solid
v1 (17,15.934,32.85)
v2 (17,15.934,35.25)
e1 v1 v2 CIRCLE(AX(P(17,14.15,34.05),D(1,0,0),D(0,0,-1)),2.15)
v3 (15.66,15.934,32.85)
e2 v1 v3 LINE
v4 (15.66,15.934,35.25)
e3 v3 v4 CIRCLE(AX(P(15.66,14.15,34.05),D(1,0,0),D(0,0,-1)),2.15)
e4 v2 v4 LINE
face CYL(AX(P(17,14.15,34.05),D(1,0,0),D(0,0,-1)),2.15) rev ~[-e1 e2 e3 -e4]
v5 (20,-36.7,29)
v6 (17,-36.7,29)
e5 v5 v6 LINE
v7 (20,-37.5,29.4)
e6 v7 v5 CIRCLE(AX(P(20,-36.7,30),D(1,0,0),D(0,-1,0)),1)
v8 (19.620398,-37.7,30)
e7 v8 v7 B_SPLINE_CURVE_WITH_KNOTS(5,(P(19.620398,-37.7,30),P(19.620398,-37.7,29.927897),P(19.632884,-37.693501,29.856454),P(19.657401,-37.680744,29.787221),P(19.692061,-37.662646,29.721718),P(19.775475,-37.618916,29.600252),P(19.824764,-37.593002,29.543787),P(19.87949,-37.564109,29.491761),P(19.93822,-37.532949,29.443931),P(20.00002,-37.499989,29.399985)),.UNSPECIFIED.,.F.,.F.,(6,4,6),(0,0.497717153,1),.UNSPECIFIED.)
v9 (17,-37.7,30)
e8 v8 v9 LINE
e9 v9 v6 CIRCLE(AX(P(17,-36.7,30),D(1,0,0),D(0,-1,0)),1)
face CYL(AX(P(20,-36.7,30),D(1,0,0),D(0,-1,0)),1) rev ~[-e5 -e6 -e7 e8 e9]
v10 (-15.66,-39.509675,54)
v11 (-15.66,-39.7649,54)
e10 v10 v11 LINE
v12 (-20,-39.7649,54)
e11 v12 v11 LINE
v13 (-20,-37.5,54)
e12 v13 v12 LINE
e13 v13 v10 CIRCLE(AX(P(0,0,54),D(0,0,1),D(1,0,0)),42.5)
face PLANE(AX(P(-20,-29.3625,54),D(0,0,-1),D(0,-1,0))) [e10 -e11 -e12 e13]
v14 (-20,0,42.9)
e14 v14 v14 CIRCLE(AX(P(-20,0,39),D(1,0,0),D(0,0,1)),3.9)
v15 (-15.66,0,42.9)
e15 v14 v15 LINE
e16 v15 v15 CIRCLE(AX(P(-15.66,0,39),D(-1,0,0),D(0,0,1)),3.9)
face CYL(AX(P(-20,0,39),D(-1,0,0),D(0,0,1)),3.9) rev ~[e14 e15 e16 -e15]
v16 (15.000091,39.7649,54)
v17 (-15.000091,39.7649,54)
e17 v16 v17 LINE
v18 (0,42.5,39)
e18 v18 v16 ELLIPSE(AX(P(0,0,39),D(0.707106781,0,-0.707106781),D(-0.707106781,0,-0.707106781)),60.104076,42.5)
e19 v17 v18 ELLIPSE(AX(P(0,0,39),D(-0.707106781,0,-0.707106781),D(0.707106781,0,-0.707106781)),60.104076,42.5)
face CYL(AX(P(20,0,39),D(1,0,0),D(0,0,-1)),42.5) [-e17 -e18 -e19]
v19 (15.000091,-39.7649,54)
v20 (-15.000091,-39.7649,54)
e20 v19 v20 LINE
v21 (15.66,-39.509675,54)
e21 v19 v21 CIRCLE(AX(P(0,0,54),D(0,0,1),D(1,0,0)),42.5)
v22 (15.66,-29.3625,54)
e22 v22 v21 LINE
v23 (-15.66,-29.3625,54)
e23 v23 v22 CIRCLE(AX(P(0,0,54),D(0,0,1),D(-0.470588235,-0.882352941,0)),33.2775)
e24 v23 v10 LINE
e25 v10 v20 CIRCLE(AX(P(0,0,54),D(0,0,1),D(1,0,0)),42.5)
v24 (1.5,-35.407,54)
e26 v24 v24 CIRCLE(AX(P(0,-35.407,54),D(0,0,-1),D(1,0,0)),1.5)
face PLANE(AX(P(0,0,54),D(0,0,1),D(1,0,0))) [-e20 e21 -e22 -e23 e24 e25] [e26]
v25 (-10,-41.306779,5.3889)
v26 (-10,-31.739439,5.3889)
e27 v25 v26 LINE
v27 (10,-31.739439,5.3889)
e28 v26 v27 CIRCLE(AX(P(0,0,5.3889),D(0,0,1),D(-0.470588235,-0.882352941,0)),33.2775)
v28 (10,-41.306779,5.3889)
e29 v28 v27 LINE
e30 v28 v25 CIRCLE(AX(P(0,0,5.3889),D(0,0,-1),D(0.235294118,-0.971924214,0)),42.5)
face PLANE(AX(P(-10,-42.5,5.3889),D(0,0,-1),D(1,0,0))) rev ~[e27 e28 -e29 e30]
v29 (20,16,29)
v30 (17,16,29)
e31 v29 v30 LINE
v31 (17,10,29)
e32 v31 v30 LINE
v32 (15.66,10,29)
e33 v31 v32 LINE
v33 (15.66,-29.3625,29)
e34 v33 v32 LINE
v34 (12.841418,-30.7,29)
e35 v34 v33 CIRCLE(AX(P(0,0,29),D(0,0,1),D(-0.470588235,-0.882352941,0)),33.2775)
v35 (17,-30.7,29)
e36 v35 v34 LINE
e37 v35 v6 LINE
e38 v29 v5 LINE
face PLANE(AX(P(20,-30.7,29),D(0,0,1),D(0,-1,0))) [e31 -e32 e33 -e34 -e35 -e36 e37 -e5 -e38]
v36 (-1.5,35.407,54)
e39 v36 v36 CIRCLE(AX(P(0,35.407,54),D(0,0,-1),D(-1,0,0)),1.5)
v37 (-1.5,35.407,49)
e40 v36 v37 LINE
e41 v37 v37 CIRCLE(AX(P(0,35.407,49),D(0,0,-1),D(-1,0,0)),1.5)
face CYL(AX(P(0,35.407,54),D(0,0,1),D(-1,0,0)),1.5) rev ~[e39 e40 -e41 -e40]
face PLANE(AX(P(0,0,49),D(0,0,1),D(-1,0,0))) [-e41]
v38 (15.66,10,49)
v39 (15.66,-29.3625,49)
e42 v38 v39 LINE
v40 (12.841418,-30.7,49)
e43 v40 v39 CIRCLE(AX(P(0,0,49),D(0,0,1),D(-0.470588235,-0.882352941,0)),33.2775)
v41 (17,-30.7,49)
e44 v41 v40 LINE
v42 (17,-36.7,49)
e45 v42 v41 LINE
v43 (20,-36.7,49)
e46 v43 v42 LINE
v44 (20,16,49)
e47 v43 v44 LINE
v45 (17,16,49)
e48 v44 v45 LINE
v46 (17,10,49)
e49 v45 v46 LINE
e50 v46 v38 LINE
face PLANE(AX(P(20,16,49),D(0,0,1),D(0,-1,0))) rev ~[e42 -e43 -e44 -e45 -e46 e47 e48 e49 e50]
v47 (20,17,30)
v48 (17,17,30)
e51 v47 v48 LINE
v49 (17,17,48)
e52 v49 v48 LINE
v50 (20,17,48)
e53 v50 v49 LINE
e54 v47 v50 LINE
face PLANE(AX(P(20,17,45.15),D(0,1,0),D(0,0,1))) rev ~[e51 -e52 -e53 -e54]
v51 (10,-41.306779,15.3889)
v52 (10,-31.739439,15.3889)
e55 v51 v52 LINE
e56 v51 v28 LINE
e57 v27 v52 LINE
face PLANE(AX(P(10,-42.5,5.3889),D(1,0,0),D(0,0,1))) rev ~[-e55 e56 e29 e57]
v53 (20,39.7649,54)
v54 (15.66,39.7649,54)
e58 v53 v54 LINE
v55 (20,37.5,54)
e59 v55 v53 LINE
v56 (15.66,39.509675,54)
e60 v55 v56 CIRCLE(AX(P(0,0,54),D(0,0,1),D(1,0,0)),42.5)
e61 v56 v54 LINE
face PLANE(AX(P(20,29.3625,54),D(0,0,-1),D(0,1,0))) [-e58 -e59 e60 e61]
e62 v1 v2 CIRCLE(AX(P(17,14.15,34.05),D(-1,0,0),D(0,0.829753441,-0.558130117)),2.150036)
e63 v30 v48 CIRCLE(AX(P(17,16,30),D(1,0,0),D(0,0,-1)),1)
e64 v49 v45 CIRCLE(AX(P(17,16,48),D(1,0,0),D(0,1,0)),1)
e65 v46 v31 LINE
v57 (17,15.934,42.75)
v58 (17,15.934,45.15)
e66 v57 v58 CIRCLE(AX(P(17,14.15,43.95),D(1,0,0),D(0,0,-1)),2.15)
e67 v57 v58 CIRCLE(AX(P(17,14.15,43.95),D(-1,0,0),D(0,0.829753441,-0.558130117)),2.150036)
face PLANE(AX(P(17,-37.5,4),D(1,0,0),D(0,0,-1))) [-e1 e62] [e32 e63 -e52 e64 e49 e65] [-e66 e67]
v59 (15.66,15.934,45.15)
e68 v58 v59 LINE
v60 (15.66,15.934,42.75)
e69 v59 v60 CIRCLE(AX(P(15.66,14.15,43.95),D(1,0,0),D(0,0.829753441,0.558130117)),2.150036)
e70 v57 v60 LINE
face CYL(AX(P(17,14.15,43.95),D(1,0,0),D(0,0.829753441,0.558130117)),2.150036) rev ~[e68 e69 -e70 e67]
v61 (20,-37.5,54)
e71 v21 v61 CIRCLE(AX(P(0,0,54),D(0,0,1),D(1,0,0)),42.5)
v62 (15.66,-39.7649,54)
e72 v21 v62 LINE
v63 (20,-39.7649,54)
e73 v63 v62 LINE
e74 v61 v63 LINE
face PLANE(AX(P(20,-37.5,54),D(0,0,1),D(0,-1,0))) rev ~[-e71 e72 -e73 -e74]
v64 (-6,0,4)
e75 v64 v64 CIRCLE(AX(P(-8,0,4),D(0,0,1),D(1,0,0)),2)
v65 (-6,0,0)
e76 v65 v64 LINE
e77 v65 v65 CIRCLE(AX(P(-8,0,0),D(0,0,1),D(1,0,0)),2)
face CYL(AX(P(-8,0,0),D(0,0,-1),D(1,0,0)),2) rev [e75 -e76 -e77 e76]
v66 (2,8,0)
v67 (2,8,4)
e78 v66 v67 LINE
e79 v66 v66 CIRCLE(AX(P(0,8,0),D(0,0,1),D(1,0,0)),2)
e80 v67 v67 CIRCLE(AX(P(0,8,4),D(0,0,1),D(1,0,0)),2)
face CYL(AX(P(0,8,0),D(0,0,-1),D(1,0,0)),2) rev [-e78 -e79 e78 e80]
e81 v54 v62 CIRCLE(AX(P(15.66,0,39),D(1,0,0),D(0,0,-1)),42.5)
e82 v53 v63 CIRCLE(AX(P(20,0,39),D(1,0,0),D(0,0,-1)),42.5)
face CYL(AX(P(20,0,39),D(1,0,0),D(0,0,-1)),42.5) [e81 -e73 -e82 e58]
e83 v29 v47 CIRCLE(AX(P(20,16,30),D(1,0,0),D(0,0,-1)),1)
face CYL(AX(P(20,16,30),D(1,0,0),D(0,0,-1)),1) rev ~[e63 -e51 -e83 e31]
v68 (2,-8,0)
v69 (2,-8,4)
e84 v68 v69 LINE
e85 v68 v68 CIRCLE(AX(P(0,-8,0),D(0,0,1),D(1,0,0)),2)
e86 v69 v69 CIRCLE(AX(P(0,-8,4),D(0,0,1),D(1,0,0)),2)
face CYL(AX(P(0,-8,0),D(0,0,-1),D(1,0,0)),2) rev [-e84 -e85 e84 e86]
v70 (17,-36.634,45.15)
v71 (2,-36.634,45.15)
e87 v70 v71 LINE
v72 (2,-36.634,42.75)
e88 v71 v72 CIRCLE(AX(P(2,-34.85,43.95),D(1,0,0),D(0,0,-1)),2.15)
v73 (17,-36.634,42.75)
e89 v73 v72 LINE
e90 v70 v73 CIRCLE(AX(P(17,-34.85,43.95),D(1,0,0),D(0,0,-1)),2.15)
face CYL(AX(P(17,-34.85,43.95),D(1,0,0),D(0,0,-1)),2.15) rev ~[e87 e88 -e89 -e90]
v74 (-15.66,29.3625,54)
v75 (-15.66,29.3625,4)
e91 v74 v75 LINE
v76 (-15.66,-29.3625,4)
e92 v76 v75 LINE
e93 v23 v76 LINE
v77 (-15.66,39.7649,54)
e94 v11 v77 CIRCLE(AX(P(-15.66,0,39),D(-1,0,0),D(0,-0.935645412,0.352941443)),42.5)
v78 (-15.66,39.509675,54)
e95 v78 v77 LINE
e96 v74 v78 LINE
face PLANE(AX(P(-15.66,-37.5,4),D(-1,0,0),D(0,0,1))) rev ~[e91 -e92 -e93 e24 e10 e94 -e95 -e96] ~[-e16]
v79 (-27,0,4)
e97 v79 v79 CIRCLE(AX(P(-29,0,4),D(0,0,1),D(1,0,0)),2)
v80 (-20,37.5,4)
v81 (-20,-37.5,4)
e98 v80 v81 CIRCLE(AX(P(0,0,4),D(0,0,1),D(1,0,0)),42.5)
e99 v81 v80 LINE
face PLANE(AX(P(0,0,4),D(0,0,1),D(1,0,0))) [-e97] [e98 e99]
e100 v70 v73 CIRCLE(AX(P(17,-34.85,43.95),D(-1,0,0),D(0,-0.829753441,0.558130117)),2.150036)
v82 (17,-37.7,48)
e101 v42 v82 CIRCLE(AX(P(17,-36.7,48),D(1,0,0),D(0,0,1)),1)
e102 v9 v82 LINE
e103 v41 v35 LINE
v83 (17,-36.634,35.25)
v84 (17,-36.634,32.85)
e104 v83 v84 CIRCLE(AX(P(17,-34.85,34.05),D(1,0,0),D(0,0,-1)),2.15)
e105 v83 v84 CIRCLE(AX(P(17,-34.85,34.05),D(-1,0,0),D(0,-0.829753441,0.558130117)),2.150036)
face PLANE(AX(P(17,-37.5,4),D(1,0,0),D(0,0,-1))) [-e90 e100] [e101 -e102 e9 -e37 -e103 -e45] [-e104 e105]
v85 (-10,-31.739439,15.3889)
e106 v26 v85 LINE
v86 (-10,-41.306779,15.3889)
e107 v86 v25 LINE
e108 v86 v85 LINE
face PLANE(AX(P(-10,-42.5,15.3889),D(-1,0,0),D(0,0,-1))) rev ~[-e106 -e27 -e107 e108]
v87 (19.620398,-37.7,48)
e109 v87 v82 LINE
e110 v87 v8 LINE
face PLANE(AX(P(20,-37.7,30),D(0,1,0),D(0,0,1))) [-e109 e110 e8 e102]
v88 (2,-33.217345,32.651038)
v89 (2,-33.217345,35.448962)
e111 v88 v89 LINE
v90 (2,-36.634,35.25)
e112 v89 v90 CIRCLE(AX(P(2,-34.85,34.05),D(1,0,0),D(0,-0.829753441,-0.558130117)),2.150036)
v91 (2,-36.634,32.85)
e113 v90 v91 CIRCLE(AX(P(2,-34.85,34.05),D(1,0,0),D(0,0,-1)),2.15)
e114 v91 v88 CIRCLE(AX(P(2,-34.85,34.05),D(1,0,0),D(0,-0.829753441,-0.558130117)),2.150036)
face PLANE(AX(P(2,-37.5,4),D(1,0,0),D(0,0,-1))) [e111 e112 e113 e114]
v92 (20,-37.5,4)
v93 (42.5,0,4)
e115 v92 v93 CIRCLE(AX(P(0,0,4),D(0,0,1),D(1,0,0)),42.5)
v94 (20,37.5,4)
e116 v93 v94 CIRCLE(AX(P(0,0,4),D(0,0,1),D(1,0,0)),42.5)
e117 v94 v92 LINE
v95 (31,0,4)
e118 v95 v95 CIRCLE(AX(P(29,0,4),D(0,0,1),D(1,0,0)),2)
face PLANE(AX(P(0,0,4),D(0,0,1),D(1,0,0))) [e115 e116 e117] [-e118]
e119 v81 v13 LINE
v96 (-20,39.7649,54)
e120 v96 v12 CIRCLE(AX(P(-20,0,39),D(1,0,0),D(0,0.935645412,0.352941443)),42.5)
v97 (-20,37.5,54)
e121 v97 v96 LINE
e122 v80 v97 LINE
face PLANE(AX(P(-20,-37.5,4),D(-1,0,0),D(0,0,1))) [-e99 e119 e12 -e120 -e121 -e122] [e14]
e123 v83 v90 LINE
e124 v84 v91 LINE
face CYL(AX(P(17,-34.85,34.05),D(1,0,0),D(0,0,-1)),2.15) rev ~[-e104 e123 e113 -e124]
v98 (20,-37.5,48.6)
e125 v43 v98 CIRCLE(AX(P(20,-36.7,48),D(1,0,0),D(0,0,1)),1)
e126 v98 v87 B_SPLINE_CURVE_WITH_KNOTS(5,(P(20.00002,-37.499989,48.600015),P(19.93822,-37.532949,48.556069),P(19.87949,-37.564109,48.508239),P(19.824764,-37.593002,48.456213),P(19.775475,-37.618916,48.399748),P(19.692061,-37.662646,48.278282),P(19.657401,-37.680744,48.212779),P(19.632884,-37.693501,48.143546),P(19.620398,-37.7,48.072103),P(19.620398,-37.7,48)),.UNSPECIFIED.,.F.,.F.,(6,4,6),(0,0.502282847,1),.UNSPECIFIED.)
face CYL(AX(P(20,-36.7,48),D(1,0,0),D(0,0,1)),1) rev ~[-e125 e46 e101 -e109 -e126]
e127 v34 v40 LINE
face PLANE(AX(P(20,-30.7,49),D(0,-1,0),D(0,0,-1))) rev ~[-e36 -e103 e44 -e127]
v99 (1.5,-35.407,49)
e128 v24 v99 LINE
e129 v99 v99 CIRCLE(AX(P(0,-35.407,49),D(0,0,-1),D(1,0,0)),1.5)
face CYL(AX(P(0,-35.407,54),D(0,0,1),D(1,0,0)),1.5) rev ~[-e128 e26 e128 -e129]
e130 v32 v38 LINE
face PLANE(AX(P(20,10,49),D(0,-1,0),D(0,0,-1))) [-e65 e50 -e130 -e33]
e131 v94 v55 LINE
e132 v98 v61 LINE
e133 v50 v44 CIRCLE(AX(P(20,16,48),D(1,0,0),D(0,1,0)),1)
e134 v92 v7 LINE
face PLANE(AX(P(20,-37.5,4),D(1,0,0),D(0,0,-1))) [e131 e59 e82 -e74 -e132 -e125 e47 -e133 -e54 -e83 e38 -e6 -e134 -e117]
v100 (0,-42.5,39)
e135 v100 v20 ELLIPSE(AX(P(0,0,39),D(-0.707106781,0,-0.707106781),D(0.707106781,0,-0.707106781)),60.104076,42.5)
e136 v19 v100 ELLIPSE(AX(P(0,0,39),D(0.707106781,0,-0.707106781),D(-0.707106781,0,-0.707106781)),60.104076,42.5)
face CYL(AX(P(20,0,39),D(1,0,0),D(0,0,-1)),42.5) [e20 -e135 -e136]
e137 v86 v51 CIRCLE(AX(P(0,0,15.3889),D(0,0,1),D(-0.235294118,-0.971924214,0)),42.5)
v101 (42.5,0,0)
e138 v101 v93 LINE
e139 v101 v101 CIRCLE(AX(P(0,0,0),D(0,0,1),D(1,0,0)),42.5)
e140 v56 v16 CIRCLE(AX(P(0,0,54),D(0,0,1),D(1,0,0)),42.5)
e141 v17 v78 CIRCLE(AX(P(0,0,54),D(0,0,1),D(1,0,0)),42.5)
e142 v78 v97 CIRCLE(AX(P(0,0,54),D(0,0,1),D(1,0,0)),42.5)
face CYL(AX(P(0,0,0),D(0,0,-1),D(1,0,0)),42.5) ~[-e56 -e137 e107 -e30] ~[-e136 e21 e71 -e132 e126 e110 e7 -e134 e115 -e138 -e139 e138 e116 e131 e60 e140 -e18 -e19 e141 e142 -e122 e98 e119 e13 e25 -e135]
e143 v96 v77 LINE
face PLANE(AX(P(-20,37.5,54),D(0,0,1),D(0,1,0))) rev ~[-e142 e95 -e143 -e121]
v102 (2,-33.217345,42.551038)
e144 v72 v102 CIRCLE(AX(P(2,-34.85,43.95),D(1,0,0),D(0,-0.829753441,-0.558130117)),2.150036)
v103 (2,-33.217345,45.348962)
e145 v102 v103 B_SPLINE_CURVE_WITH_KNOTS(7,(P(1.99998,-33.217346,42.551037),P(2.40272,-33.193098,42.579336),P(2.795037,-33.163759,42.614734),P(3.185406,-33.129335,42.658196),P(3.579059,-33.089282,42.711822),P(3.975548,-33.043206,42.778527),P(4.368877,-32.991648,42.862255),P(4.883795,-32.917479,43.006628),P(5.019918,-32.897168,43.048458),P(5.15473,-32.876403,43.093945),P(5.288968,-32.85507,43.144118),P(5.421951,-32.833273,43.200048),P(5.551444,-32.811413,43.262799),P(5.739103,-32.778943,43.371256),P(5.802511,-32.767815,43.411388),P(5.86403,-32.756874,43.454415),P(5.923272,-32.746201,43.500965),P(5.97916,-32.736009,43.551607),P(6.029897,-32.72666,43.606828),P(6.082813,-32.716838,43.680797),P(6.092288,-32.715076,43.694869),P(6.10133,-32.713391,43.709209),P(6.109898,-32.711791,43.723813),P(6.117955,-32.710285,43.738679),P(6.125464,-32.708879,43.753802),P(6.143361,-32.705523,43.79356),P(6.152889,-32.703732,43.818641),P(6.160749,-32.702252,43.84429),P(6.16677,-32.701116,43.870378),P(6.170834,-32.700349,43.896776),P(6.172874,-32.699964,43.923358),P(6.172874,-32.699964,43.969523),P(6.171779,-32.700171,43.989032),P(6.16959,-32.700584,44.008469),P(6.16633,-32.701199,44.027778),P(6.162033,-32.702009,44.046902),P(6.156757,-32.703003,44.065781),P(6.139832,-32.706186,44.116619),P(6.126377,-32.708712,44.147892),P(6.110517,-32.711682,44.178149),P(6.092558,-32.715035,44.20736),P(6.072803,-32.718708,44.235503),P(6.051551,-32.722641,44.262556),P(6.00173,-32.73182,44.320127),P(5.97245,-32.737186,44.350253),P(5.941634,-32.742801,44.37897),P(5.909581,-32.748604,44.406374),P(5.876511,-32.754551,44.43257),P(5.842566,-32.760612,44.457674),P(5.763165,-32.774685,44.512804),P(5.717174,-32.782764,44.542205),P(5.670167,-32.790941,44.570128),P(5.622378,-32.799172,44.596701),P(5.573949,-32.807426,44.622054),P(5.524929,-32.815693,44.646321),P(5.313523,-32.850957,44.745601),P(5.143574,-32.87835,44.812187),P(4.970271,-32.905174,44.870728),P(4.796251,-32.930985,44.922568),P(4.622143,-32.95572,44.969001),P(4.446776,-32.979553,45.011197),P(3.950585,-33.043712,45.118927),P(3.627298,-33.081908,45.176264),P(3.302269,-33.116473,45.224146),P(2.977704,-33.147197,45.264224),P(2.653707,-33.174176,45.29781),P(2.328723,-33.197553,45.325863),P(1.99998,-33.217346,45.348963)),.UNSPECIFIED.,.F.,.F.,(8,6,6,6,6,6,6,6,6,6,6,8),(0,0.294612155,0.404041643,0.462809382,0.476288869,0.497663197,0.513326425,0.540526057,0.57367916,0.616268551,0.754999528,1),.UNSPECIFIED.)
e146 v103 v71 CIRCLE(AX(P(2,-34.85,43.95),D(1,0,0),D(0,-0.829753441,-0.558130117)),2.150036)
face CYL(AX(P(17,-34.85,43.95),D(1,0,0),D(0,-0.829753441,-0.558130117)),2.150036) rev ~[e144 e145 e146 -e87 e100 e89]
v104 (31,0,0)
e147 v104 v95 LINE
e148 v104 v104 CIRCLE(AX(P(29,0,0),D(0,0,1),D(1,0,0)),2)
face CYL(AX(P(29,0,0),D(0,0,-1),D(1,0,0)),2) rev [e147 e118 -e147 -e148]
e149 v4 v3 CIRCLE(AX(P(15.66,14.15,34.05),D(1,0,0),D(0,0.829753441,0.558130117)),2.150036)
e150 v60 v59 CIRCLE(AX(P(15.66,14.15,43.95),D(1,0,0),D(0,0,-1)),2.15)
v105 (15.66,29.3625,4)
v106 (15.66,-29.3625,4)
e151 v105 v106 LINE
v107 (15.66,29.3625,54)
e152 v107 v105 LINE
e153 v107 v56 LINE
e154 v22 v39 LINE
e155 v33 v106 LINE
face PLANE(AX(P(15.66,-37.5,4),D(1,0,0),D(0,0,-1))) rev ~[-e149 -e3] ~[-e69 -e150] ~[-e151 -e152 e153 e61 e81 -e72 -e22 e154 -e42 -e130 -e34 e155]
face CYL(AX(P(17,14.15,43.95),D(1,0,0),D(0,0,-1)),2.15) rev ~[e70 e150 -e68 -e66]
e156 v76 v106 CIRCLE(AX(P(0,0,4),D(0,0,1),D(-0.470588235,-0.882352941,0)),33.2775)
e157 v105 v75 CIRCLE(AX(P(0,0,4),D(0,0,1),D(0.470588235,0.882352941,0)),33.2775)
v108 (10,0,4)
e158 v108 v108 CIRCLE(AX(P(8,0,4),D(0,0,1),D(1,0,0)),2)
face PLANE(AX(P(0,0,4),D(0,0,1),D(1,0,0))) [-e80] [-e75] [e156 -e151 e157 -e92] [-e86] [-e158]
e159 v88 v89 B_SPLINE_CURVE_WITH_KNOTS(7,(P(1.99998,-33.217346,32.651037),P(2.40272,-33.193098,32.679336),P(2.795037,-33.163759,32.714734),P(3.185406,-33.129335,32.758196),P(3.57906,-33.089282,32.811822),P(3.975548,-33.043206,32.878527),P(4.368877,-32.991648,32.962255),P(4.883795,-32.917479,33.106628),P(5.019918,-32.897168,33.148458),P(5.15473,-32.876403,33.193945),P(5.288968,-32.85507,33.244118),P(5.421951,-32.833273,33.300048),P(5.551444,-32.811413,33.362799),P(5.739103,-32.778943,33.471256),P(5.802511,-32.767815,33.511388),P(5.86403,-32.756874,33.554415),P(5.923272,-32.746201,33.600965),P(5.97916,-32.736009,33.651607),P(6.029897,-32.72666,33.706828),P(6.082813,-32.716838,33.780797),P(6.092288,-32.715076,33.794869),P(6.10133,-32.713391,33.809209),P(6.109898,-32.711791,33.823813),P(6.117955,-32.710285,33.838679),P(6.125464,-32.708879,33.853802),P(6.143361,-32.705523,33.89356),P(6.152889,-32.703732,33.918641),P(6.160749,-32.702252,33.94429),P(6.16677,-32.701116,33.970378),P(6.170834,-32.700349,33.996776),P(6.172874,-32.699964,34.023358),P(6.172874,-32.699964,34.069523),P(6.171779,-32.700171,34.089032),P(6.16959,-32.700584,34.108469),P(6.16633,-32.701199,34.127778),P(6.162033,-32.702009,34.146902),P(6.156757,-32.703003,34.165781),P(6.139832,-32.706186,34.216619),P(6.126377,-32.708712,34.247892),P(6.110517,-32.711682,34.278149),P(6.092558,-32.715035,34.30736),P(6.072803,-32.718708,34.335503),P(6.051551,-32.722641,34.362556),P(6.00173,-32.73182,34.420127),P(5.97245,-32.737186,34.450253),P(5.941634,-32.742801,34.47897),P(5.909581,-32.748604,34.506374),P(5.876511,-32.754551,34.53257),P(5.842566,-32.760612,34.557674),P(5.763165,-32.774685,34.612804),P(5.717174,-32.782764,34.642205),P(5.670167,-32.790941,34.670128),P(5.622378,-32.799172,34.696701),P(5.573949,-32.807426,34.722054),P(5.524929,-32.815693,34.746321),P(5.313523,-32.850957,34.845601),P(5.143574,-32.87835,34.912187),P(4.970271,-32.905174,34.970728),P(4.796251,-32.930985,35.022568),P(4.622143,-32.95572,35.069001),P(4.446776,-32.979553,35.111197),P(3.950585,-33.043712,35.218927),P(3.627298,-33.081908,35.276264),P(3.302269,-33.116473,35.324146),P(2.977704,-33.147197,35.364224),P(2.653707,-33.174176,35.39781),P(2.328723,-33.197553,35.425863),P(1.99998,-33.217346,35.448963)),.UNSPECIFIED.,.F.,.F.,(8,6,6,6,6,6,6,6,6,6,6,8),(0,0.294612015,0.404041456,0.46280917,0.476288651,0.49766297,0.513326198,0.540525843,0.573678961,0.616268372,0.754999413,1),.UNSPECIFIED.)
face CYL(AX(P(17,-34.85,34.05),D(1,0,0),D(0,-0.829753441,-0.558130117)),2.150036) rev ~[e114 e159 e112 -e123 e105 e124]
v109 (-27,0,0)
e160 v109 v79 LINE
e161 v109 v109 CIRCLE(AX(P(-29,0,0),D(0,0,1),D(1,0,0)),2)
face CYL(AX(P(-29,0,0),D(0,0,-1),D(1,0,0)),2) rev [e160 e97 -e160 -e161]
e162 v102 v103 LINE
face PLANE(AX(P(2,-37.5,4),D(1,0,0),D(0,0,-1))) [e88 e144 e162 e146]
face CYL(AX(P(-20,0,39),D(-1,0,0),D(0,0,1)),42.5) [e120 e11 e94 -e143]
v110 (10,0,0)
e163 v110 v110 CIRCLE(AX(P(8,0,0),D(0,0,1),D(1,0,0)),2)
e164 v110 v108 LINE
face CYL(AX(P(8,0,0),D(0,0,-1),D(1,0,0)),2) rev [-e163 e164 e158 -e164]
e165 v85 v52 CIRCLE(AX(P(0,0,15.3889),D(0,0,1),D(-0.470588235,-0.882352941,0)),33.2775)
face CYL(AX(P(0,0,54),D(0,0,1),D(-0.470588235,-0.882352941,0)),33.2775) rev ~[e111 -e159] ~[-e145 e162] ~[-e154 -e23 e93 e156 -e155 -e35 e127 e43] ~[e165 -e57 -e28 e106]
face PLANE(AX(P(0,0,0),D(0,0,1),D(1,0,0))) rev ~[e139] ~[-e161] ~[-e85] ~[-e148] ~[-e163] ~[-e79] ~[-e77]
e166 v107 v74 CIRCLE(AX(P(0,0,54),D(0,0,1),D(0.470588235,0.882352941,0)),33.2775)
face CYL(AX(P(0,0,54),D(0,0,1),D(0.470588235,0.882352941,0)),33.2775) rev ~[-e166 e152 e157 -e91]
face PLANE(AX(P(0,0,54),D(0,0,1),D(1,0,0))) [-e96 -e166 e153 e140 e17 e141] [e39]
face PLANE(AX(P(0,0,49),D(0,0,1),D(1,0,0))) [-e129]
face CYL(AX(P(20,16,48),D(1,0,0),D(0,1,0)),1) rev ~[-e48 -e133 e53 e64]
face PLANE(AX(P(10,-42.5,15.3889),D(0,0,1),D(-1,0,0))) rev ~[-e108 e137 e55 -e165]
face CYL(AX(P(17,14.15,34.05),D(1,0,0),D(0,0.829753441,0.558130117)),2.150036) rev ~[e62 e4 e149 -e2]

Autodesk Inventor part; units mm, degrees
ref_plane "YZ Plane" through (0, 0, 0) normal (1, 0, 0) x (0, 1, 0)
ref_plane "XZ Plane" through (0, 0, 0) normal (0, 1, 0) x (-1, 0, 0)
sketch "Эскиз1" plane through (0, 0, 0) normal (0, 0, 1) x (1, 0, 0)
  circle A0 centre (29, 0) radius 2
  circle A1 centre (-29, 0) radius 2
  circle A2 centre (0, 8) radius 2
  circle A3 centre (8, 0) radius 2
  circle A4 centre (0, -8) radius 2
  circle A5 centre (-8, 0) radius 2
  circle A6 centre (0, 0) radius 42.5
  circle A7 centre (29, 0) radius 2
  circle A8 centre (-29, 0) radius 2
  circle A9 centre (0, 8) radius 2
  circle A10 centre (8, 0) radius 2
  circle A11 centre (0, -8) radius 2
  circle A12 centre (-8, 0) radius 2
  circle A13 centre (0, 0) radius 42.5
extrude "Выдавливание1" add sketch "Эскиз1" along normal blind 4
sketch "Эскиз16" plane through (0, 0, 4) normal (0, 0, 1) x (1, 0, 0)
  line L0 (-20, -37.5) -> (-20, 37.5)
  line L1 (20, 37.5) -> (20, -37.5)
  line L2 (20, -42.5) -> (-20, 42.5) construction
  line L3 (-20, -42.5) -> (20, 42.5) construction
  circle A0 centre (0, 0) radius 42.5 projected
  arc A1 (-20, -37.5) -> (20, -37.5) centre (0, 0) ccw
  arc A2 (20, 37.5) -> (-20, 37.5) centre (0, 0) ccw
extrude "Выдавливание14" add sketch "Эскиз16" along normal blind 50 contours L0 A0 L1
sketch "Эскиз17" plane through (0, 0, 54) normal (0, 0, 1) x (1, 0, 0)
  line L0 (-15.66, -29.3625) -> (-15.66, 29.3625)
  line L1 (15.66, 29.3625) -> (15.66, -29.3625)
  line L2 (15.66, -33.2775) -> (-15.66, 33.2775) construction
  line L3 (-15.66, -33.2775) -> (15.66, 33.2775) construction
  arc A0 (-15.66, -29.3625) -> (15.66, -29.3625) centre (0, 0) ccw
  arc A1 (15.66, 29.3625) -> (-15.66, 29.3625) centre (0, 0) ccw
  arc A2 (-15.66, -29.3625) -> (15.66, -29.3625) centre (0, 0) ccw
  arc A3 (15.66, 29.3625) -> (-15.66, 29.3625) centre (0, 0) ccw
extrude "Выдавливание15" cut sketch "Эскиз17" against normal up to surface (50 mm away)
sketch "Эскиз23" plane through (-20, -37.5, 4) normal (-1, 0, 0) x (0, 0, 1)
  line L0 (0, 39.5) -> (0, 35.5) projected
  line L1 (0, 37.5) -> (35, 37.5)
  circle A0 centre (35, 37.5) radius 3.9
  point P0 (-4, 37.5)
  dimension "d73" = 35
  dimension "d74" = 7.8
extrude "Выдавливание21" cut sketch "Эскиз23" against normal blind 54
sketch "Эскиз26" plane through (20, -37.5, 4) normal (1, 0, 0) x (0, 0, -1)
  circle A0 centre (-35, 37.5) radius 3.9 projected
  line L0 (-45, 47.5) -> (-25, 47.5)
  line L1 (-25, 47.5) -> (-25, 53.5)
  arc A1 (-25, 53.5) -> (-26, 54.5) centre (-26, 53.5) ccw
  line L2 (-26, 54.5) -> (-28.85, 54.5)
  line L3 (-28.85, 54.5) -> (-28.85, 53.434)
  arc A2 (-31.25, 53.434) -> (-28.85, 53.434) centre (-30.05, 51.65) ccw
  line L4 (-31.25, 53.434) -> (-31.25, 54.5)
  line L5 (-31.25, 54.5) -> (-38.75, 54.5)
  line L6 (-38.75, 54.5) -> (-38.75, 53.434)
  arc A3 (-41.15, 53.434) -> (-38.75, 53.434) centre (-39.95, 51.65) ccw
  line L7 (-41.15, 53.434) -> (-41.15, 54.5)
  line L8 (-41.15, 54.5) -> (-44, 54.5)
  arc A4 (-44, 54.5) -> (-45, 53.5) centre (-44, 53.5) ccw
  line L9 (-45, 53.5) -> (-45, 47.5)
  line L10 (-38.75, -0.2) -> (-38.75, 0.866)
  line L11 (-31.25, -0.2) -> (-38.75, -0.2)
  line L12 (-31.25, 0.866) -> (-31.25, -0.2)
  arc A5 (-28.85, 0.866) -> (-31.25, 0.866) centre (-30.05, 2.65) ccw
  line L13 (-28.85, -0.2) -> (-28.85, 0.866)
  line L14 (-26, -0.2) -> (-28.85, -0.2)
  arc A6 (-26, -0.2) -> (-25, 0.8) centre (-26, 0.8) ccw
  line L15 (-25, 6.8) -> (-25, 0.8)
  line L16 (-45, 6.8) -> (-25, 6.8)
  line L17 (-45, 0.8) -> (-45, 6.8)
  arc A7 (-45, 0.8) -> (-44, -0.2) centre (-44, 0.8) ccw
  line L18 (-41.15, -0.2) -> (-44, -0.2)
  line L19 (-41.15, 0.866) -> (-41.15, -0.2)
  arc A8 (-38.75, 0.866) -> (-41.15, 0.866) centre (-39.95, 2.65) ccw
  line L20 (-25, 47.5) -> (-25, 6.8)
  line L21 (-45, 6.8) -> (-45, 47.5)
  line L22 (-45, 47.5) -> (-25, 47.5)
  circle A9 centre (-35, 37.5) radius 1.25
  circle A10 centre (-35, 37.5) radius 3.4957
  circle A11 centre (-35, 37.5) radius 2.6787
  circle A12 centre (-35, 37.5) radius 5.4
  line L23 (-28.85, -0.2) -> (-31.25, -0.2)
  line L24 (-38.75, -0.2) -> (-41.15, -0.2)
  line L25 (-31.25, -0.2) -> (-34.5, -0.2)
  line L26 (-31.25, 54.5) -> (-38.75, 54.5)
  line L27 (-28.85, 54.5) -> (-31.25, 54.5)
  line L28 (-31.25, 54.5) -> (-38.75, 54.5)
  line L29 (-38.75, 54.5) -> (-41.15, 54.5)
  circle A13 centre (-30.05, 51.65) radius 2.15
  circle A14 centre (-39.95, 51.65) radius 2.15
  arc A15 (-38.75, 0.866) -> (-41.15, 0.866) centre (-39.95, 2.65) ccw
  circle A16 centre (-39.95, 2.65) radius 2.15
  circle A17 centre (-30.05, 2.65) radius 2.15
  circle A18 centre (-35, 37.5) radius 42.5
  line L30 (4, 80) -> (-50, 80) projected
  line L31 (-50, 0) -> (-50, -5) projected
  line L32 (-50, -2.2649) -> (-50, -5)
  line L33 (4, -5) -> (-50, -5) projected
  line L34 (-35, -5) -> (-50, -5)
  line L35 (4, -5) -> (-50, -5) projected
  line L36 (-50, 80) -> (-50, 75) projected
  line L37 (-50, 77.2649) -> (-50, 80)
  line L38 (-50, 80) -> (-35, 80)
  line L39 (4, 80) -> (-50, 80) projected
  point P0 (4, 37.5)
  point P1 (-45, 27.15)
extrude "Выдавливание23" cut sketch "Эскиз26" against normal blind 10 contours A0 | L0 L20 L16 L21 | A9 | A10 | A11 | A12
sketch "Эскиз27" plane through (20, -37.5, 4) normal (1, 0, 0) x (0, 0, -1)
  circle A0 centre (-35, 37.5) radius 3.9
  line L0 (-45, 47.5) -> (-25, 47.5)
  line L1 (-25, 47.5) -> (-25, 53.5)
  arc A1 (-25, 53.5) -> (-26, 54.5) centre (-26, 53.5) ccw
  line L2 (-26, 54.5) -> (-28.85, 54.5)
  line L3 (-28.85, 54.5) -> (-28.85, 53.434)
  arc A2 (-31.25, 53.434) -> (-28.85, 53.434) centre (-30.05, 51.65) ccw
  line L4 (-31.25, 53.434) -> (-31.25, 54.5)
  line L5 (-31.25, 54.5) -> (-38.75, 54.5)
  line L6 (-38.75, 54.5) -> (-38.75, 53.434)
  arc A3 (-41.15, 53.434) -> (-38.75, 53.434) centre (-39.95, 51.65) ccw
  line L7 (-41.15, 53.434) -> (-41.15, 54.5)
  line L8 (-41.15, 54.5) -> (-44, 54.5)
  arc A4 (-44, 54.5) -> (-45, 53.5) centre (-44, 53.5) ccw
  line L9 (-45, 53.5) -> (-45, 47.5)
  line L10 (-38.75, -0.2) -> (-38.75, 0.866)
  line L11 (-31.25, -0.2) -> (-38.75, -0.2)
  line L12 (-31.25, 0.866) -> (-31.25, -0.2)
  arc A5 (-28.85, 0.866) -> (-31.25, 0.866) centre (-30.05, 2.65) ccw
  line L13 (-28.85, -0.2) -> (-28.85, 0.866)
  line L14 (-26, -0.2) -> (-28.85, -0.2)
  arc A6 (-26, -0.2) -> (-25, 0.8) centre (-26, 0.8) ccw
  line L15 (-25, 6.8) -> (-25, 0.8)
  line L16 (-45, 6.8) -> (-25, 6.8)
  line L17 (-45, 0.8) -> (-45, 6.8)
  arc A7 (-45, 0.8) -> (-44, -0.2) centre (-44, 0.8) ccw
  line L18 (-41.15, -0.2) -> (-44, -0.2)
  line L19 (-41.15, 0.866) -> (-41.15, -0.2)
  arc A8 (-38.75, 0.866) -> (-41.15, 0.866) centre (-39.95, 2.65) ccw
  line L20 (-25, 47.5) -> (-25, 6.8)
  line L21 (-45, 6.8) -> (-45, 47.5)
  line L22 (-45, 47.5) -> (-25, 47.5)
  circle A9 centre (-35, 37.5) radius 1.25
  circle A10 centre (-35, 37.5) radius 3.4957
  circle A11 centre (-35, 37.5) radius 2.6787
  circle A12 centre (-35, 37.5) radius 5.4
  line L23 (-28.85, -0.2) -> (-31.25, -0.2)
  line L24 (-38.75, -0.2) -> (-41.15, -0.2)
  line L25 (-31.25, -0.2) -> (-34.5, -0.2)
  line L26 (-31.25, 54.5) -> (-38.75, 54.5)
  line L27 (-28.85, 54.5) -> (-31.25, 54.5)
  line L28 (-31.25, 54.5) -> (-38.75, 54.5)
  line L29 (-38.75, 54.5) -> (-41.15, 54.5)
  circle A13 centre (-30.05, 51.65) radius 2.15
  circle A14 centre (-39.95, 51.65) radius 2.15
  arc A15 (-38.75, 0.866) -> (-41.15, 0.866) centre (-39.95, 2.65) ccw
  circle A16 centre (-39.95, 2.65) radius 2.15
  circle A17 centre (-30.05, 2.65) radius 2.15
  point P0 (4, 37.5)
  point P1 (4, 37.5)
  point P2 (-45, 27.15)
extrude "Выдавливание24" cut sketch "Эскиз27" against normal blind 3 contours L9 A4 L8 L7 A3 L6 L5 L4 A2 L3 L2 A1 L1 L0 | L16 L15 A6 L14 L13 A5 L12 L11 L10 A8 L19 L18 A7 L17 | L29 L6 A14 L7 | L3 A13 L4 L27 | A14 A3 | L19 A16 L10 L24 | A2 A13 | L23 L12 A17 L13 | A8 A16 | A17 A5
sketch "Эскиз28" plane through (17, -37.5, 4) normal (1, 0, 0) x (0, 0, -1)
  circle A0 centre (-35, 37.5) radius 3.9
  line L0 (-45, 47.5) -> (-25, 47.5)
  line L1 (-25, 47.5) -> (-25, 53.5)
  arc A1 (-25, 53.5) -> (-26, 54.5) centre (-26, 53.5) ccw
  line L2 (-26, 54.5) -> (-28.85, 54.5)
  line L3 (-28.85, 54.5) -> (-28.85, 53.434)
  arc A2 (-31.25, 53.434) -> (-28.85, 53.434) centre (-30.05, 51.65) ccw
  line L4 (-31.25, 53.434) -> (-31.25, 54.5)
  line L5 (-31.25, 54.5) -> (-38.75, 54.5)
  line L6 (-38.75, 54.5) -> (-38.75, 53.434)
  arc A3 (-41.15, 53.434) -> (-38.75, 53.434) centre (-39.95, 51.65) ccw
  line L7 (-41.15, 53.434) -> (-41.15, 54.5)
  line L8 (-41.15, 54.5) -> (-44, 54.5)
  arc A4 (-44, 54.5) -> (-45, 53.5) centre (-44, 53.5) ccw
  line L9 (-45, 53.5) -> (-45, 47.5)
  line L10 (-38.75, -0.2) -> (-38.75, 0.866)
  line L11 (-31.25, -0.2) -> (-38.75, -0.2)
  line L12 (-31.25, 0.866) -> (-31.25, -0.2)
  arc A5 (-28.85, 0.866) -> (-31.25, 0.866) centre (-30.05, 2.65) ccw
  line L13 (-28.85, -0.2) -> (-28.85, 0.866)
  line L14 (-26, -0.2) -> (-28.85, -0.2)
  arc A6 (-26, -0.2) -> (-25, 0.8) centre (-26, 0.8) ccw
  line L15 (-25, 6.8) -> (-25, 0.8)
  line L16 (-45, 6.8) -> (-25, 6.8)
  line L17 (-45, 0.8) -> (-45, 6.8)
  arc A7 (-45, 0.8) -> (-44, -0.2) centre (-44, 0.8) ccw
  line L18 (-41.15, -0.2) -> (-44, -0.2)
  line L19 (-41.15, 0.866) -> (-41.15, -0.2)
  arc A8 (-38.75, 0.866) -> (-41.15, 0.866) centre (-39.95, 2.65) ccw
  line L20 (-25, 47.5) -> (-25, 6.8)
  line L21 (-45, 6.8) -> (-45, 47.5)
  line L22 (-45, 47.5) -> (-25, 47.5)
  circle A9 centre (-35, 37.5) radius 1.25
  circle A10 centre (-35, 37.5) radius 3.4957
  circle A11 centre (-35, 37.5) radius 2.6787
  circle A12 centre (-35, 37.5) radius 5.4
  line L23 (-28.85, -0.2) -> (-31.25, -0.2)
  line L24 (-38.75, -0.2) -> (-41.15, -0.2)
  line L25 (-31.25, -0.2) -> (-34.5, -0.2)
  line L26 (-31.25, 54.5) -> (-38.75, 54.5)
  line L27 (-28.85, 54.5) -> (-31.25, 54.5)
  line L28 (-31.25, 54.5) -> (-38.75, 54.5)
  line L29 (-38.75, 54.5) -> (-41.15, 54.5)
  circle A13 centre (-30.05, 51.65) radius 2.15
  circle A14 centre (-39.95, 51.65) radius 2.15
  arc A15 (-38.75, 0.866) -> (-41.15, 0.866) centre (-39.95, 2.65) ccw
  circle A16 centre (-39.95, 2.65) radius 2.15
  circle A17 centre (-30.05, 2.65) radius 2.15
  point P0 (4, 37.5)
  point P1 (4, 37.5)
  point P2 (-45, 27.15)
extrude "Выдавливание25" cut sketch "Эскиз28" against normal blind 15 contours A14 A3 | A2 A13 | A8 A16 | A17 A5
sketch "Эскиз29" plane through (20, -37.5, 4) normal (1, 0, 0) x (0, 0, -1)
  circle A0 centre (-35, 37.5) radius 3.9 projected
  circle A1 centre (-35, 37.5) radius 42.5
  line L0 (4, 80) -> (-50, 80) projected
  line L1 (-50, -2.2649) -> (-50, -5)
  line L2 (-50, -5) -> (-35, -5)
  line L3 (4, -5) -> (-50, -5) projected
  line L4 (-50, 80) -> (-50, 75) projected
  line L5 (-50, 77.2649) -> (-50, 80)
  line L6 (-50, 80) -> (-35, 80)
  point P0 (4, 37.5)
extrude "Выдавливание26" cut sketch "Эскиз29" against normal blind 46.75 contours A1 L4 L0 | L2 L1 A1
sketch "Эскиз30" plane through (20, -37.5, 4) normal (1, 0, 0) x (0, 0, -1)
  circle A0 centre (-35, 37.5) radius 3.9 projected
  circle A1 centre (-35, 37.5) radius 42.5
  line L0 (-50, 0) -> (-50, -2.2649) projected
  line L1 (-50, -2.2649) -> (-50, 77.2649)
  line L2 (-50, 8.1375) -> (-50, 66.8625) projected
  point P0 (4, 37.5)
extrude "Выдавливание27" add sketch "Эскиз30" against normal up to surface (4.34 mm away) contours L1 L0 A1 picked at (-59.1667, 37.5)
sketch "Эскиз31" plane through (-20, -37.5, 4) normal (-1, 0, 0) x (0, 0, 1)
  circle A0 centre (35, 37.5) radius 3.9
  circle A1 centre (35, 37.5) radius 42.5
  line L0 (50, 75) -> (50, 77.2649)
  line L1 (50, 77.2649) -> (50, -2.2649)
  line L2 (50, 66.8625) -> (50, 8.1375)
  circle A2 centre (35, 37.5) radius 3.9 projected
  point P0 (-4, 37.5)
  point P1 (-4, 37.5)
extrude "Выдавливание28" add sketch "Эскиз31" against normal up to surface (4.34 mm away) contours A1 L1 L0 picked at (59.1667, 37.5)
sketch "Эскиз32" plane through (-20, -37.5, 4) normal (-1, 0, 0) x (0, 0, 1)
  circle A0 centre (35, 37.5) radius 3.9 projected
  line L0 (0, 0) -> (0, 75) projected
  line L1 (0, 0) -> (50, 0) projected
  line L2 (50, 0) -> (50, -2.2649) projected
  arc A1 (50, -2.2649) -> (50, 77.2649) centre (35, 37.5) ccw projected
  line L3 (50, 77.2649) -> (50, 75) projected
  line L4 (0, 75) -> (50, 75) projected
  point P0 (-4, 37.5)
ref_plane "РабПлоскость2" through (0, -42.5, 39) normal (0, -1, 0) x (1, 0, 0)
sketch "Эскиз33" plane through (0, -42.5, 39) normal (0, -1, 0) x (1, 0, 0)
  line L0 (-10, -33.6111) -> (10, -33.6111)
  line L1 (10, -33.6111) -> (10, -23.6111)
  line L2 (10, -23.6111) -> (-10, -23.6111)
  line L3 (-10, -23.6111) -> (-10, -33.6111)
  line L4 (-10, -33.6111) -> (10, -23.6111) construction
  line L5 (10, -33.6111) -> (-10, -23.6111) construction
  point P0 (0, -39)
  point P1 (0, -28.6111)
  dimension "d92" = 20
  dimension "d93" = 10
extrude "Выдавливание29" cut sketch "Эскиз33" against normal blind 18.75
sketch "Эскиз34" plane through (0, 0, 54) normal (0, 0, 1) x (1, 0, 0)
  line L0 (0, 0) -> (0, -35.407)
  circle A0 centre (0, -35.407) radius 1.5
  dimension "d96" = 35.407
  dimension "d97" = 3
extrude "Выдавливание30" cut sketch "Эскиз34" against normal blind 5
pattern_circular "Круговой массив1" count 2 over 360 about axis through (0, 0, 0) along (0, 0, 1) of "Выдавливание30"
properties part number "joint3_main" material "Пластик АБС"
